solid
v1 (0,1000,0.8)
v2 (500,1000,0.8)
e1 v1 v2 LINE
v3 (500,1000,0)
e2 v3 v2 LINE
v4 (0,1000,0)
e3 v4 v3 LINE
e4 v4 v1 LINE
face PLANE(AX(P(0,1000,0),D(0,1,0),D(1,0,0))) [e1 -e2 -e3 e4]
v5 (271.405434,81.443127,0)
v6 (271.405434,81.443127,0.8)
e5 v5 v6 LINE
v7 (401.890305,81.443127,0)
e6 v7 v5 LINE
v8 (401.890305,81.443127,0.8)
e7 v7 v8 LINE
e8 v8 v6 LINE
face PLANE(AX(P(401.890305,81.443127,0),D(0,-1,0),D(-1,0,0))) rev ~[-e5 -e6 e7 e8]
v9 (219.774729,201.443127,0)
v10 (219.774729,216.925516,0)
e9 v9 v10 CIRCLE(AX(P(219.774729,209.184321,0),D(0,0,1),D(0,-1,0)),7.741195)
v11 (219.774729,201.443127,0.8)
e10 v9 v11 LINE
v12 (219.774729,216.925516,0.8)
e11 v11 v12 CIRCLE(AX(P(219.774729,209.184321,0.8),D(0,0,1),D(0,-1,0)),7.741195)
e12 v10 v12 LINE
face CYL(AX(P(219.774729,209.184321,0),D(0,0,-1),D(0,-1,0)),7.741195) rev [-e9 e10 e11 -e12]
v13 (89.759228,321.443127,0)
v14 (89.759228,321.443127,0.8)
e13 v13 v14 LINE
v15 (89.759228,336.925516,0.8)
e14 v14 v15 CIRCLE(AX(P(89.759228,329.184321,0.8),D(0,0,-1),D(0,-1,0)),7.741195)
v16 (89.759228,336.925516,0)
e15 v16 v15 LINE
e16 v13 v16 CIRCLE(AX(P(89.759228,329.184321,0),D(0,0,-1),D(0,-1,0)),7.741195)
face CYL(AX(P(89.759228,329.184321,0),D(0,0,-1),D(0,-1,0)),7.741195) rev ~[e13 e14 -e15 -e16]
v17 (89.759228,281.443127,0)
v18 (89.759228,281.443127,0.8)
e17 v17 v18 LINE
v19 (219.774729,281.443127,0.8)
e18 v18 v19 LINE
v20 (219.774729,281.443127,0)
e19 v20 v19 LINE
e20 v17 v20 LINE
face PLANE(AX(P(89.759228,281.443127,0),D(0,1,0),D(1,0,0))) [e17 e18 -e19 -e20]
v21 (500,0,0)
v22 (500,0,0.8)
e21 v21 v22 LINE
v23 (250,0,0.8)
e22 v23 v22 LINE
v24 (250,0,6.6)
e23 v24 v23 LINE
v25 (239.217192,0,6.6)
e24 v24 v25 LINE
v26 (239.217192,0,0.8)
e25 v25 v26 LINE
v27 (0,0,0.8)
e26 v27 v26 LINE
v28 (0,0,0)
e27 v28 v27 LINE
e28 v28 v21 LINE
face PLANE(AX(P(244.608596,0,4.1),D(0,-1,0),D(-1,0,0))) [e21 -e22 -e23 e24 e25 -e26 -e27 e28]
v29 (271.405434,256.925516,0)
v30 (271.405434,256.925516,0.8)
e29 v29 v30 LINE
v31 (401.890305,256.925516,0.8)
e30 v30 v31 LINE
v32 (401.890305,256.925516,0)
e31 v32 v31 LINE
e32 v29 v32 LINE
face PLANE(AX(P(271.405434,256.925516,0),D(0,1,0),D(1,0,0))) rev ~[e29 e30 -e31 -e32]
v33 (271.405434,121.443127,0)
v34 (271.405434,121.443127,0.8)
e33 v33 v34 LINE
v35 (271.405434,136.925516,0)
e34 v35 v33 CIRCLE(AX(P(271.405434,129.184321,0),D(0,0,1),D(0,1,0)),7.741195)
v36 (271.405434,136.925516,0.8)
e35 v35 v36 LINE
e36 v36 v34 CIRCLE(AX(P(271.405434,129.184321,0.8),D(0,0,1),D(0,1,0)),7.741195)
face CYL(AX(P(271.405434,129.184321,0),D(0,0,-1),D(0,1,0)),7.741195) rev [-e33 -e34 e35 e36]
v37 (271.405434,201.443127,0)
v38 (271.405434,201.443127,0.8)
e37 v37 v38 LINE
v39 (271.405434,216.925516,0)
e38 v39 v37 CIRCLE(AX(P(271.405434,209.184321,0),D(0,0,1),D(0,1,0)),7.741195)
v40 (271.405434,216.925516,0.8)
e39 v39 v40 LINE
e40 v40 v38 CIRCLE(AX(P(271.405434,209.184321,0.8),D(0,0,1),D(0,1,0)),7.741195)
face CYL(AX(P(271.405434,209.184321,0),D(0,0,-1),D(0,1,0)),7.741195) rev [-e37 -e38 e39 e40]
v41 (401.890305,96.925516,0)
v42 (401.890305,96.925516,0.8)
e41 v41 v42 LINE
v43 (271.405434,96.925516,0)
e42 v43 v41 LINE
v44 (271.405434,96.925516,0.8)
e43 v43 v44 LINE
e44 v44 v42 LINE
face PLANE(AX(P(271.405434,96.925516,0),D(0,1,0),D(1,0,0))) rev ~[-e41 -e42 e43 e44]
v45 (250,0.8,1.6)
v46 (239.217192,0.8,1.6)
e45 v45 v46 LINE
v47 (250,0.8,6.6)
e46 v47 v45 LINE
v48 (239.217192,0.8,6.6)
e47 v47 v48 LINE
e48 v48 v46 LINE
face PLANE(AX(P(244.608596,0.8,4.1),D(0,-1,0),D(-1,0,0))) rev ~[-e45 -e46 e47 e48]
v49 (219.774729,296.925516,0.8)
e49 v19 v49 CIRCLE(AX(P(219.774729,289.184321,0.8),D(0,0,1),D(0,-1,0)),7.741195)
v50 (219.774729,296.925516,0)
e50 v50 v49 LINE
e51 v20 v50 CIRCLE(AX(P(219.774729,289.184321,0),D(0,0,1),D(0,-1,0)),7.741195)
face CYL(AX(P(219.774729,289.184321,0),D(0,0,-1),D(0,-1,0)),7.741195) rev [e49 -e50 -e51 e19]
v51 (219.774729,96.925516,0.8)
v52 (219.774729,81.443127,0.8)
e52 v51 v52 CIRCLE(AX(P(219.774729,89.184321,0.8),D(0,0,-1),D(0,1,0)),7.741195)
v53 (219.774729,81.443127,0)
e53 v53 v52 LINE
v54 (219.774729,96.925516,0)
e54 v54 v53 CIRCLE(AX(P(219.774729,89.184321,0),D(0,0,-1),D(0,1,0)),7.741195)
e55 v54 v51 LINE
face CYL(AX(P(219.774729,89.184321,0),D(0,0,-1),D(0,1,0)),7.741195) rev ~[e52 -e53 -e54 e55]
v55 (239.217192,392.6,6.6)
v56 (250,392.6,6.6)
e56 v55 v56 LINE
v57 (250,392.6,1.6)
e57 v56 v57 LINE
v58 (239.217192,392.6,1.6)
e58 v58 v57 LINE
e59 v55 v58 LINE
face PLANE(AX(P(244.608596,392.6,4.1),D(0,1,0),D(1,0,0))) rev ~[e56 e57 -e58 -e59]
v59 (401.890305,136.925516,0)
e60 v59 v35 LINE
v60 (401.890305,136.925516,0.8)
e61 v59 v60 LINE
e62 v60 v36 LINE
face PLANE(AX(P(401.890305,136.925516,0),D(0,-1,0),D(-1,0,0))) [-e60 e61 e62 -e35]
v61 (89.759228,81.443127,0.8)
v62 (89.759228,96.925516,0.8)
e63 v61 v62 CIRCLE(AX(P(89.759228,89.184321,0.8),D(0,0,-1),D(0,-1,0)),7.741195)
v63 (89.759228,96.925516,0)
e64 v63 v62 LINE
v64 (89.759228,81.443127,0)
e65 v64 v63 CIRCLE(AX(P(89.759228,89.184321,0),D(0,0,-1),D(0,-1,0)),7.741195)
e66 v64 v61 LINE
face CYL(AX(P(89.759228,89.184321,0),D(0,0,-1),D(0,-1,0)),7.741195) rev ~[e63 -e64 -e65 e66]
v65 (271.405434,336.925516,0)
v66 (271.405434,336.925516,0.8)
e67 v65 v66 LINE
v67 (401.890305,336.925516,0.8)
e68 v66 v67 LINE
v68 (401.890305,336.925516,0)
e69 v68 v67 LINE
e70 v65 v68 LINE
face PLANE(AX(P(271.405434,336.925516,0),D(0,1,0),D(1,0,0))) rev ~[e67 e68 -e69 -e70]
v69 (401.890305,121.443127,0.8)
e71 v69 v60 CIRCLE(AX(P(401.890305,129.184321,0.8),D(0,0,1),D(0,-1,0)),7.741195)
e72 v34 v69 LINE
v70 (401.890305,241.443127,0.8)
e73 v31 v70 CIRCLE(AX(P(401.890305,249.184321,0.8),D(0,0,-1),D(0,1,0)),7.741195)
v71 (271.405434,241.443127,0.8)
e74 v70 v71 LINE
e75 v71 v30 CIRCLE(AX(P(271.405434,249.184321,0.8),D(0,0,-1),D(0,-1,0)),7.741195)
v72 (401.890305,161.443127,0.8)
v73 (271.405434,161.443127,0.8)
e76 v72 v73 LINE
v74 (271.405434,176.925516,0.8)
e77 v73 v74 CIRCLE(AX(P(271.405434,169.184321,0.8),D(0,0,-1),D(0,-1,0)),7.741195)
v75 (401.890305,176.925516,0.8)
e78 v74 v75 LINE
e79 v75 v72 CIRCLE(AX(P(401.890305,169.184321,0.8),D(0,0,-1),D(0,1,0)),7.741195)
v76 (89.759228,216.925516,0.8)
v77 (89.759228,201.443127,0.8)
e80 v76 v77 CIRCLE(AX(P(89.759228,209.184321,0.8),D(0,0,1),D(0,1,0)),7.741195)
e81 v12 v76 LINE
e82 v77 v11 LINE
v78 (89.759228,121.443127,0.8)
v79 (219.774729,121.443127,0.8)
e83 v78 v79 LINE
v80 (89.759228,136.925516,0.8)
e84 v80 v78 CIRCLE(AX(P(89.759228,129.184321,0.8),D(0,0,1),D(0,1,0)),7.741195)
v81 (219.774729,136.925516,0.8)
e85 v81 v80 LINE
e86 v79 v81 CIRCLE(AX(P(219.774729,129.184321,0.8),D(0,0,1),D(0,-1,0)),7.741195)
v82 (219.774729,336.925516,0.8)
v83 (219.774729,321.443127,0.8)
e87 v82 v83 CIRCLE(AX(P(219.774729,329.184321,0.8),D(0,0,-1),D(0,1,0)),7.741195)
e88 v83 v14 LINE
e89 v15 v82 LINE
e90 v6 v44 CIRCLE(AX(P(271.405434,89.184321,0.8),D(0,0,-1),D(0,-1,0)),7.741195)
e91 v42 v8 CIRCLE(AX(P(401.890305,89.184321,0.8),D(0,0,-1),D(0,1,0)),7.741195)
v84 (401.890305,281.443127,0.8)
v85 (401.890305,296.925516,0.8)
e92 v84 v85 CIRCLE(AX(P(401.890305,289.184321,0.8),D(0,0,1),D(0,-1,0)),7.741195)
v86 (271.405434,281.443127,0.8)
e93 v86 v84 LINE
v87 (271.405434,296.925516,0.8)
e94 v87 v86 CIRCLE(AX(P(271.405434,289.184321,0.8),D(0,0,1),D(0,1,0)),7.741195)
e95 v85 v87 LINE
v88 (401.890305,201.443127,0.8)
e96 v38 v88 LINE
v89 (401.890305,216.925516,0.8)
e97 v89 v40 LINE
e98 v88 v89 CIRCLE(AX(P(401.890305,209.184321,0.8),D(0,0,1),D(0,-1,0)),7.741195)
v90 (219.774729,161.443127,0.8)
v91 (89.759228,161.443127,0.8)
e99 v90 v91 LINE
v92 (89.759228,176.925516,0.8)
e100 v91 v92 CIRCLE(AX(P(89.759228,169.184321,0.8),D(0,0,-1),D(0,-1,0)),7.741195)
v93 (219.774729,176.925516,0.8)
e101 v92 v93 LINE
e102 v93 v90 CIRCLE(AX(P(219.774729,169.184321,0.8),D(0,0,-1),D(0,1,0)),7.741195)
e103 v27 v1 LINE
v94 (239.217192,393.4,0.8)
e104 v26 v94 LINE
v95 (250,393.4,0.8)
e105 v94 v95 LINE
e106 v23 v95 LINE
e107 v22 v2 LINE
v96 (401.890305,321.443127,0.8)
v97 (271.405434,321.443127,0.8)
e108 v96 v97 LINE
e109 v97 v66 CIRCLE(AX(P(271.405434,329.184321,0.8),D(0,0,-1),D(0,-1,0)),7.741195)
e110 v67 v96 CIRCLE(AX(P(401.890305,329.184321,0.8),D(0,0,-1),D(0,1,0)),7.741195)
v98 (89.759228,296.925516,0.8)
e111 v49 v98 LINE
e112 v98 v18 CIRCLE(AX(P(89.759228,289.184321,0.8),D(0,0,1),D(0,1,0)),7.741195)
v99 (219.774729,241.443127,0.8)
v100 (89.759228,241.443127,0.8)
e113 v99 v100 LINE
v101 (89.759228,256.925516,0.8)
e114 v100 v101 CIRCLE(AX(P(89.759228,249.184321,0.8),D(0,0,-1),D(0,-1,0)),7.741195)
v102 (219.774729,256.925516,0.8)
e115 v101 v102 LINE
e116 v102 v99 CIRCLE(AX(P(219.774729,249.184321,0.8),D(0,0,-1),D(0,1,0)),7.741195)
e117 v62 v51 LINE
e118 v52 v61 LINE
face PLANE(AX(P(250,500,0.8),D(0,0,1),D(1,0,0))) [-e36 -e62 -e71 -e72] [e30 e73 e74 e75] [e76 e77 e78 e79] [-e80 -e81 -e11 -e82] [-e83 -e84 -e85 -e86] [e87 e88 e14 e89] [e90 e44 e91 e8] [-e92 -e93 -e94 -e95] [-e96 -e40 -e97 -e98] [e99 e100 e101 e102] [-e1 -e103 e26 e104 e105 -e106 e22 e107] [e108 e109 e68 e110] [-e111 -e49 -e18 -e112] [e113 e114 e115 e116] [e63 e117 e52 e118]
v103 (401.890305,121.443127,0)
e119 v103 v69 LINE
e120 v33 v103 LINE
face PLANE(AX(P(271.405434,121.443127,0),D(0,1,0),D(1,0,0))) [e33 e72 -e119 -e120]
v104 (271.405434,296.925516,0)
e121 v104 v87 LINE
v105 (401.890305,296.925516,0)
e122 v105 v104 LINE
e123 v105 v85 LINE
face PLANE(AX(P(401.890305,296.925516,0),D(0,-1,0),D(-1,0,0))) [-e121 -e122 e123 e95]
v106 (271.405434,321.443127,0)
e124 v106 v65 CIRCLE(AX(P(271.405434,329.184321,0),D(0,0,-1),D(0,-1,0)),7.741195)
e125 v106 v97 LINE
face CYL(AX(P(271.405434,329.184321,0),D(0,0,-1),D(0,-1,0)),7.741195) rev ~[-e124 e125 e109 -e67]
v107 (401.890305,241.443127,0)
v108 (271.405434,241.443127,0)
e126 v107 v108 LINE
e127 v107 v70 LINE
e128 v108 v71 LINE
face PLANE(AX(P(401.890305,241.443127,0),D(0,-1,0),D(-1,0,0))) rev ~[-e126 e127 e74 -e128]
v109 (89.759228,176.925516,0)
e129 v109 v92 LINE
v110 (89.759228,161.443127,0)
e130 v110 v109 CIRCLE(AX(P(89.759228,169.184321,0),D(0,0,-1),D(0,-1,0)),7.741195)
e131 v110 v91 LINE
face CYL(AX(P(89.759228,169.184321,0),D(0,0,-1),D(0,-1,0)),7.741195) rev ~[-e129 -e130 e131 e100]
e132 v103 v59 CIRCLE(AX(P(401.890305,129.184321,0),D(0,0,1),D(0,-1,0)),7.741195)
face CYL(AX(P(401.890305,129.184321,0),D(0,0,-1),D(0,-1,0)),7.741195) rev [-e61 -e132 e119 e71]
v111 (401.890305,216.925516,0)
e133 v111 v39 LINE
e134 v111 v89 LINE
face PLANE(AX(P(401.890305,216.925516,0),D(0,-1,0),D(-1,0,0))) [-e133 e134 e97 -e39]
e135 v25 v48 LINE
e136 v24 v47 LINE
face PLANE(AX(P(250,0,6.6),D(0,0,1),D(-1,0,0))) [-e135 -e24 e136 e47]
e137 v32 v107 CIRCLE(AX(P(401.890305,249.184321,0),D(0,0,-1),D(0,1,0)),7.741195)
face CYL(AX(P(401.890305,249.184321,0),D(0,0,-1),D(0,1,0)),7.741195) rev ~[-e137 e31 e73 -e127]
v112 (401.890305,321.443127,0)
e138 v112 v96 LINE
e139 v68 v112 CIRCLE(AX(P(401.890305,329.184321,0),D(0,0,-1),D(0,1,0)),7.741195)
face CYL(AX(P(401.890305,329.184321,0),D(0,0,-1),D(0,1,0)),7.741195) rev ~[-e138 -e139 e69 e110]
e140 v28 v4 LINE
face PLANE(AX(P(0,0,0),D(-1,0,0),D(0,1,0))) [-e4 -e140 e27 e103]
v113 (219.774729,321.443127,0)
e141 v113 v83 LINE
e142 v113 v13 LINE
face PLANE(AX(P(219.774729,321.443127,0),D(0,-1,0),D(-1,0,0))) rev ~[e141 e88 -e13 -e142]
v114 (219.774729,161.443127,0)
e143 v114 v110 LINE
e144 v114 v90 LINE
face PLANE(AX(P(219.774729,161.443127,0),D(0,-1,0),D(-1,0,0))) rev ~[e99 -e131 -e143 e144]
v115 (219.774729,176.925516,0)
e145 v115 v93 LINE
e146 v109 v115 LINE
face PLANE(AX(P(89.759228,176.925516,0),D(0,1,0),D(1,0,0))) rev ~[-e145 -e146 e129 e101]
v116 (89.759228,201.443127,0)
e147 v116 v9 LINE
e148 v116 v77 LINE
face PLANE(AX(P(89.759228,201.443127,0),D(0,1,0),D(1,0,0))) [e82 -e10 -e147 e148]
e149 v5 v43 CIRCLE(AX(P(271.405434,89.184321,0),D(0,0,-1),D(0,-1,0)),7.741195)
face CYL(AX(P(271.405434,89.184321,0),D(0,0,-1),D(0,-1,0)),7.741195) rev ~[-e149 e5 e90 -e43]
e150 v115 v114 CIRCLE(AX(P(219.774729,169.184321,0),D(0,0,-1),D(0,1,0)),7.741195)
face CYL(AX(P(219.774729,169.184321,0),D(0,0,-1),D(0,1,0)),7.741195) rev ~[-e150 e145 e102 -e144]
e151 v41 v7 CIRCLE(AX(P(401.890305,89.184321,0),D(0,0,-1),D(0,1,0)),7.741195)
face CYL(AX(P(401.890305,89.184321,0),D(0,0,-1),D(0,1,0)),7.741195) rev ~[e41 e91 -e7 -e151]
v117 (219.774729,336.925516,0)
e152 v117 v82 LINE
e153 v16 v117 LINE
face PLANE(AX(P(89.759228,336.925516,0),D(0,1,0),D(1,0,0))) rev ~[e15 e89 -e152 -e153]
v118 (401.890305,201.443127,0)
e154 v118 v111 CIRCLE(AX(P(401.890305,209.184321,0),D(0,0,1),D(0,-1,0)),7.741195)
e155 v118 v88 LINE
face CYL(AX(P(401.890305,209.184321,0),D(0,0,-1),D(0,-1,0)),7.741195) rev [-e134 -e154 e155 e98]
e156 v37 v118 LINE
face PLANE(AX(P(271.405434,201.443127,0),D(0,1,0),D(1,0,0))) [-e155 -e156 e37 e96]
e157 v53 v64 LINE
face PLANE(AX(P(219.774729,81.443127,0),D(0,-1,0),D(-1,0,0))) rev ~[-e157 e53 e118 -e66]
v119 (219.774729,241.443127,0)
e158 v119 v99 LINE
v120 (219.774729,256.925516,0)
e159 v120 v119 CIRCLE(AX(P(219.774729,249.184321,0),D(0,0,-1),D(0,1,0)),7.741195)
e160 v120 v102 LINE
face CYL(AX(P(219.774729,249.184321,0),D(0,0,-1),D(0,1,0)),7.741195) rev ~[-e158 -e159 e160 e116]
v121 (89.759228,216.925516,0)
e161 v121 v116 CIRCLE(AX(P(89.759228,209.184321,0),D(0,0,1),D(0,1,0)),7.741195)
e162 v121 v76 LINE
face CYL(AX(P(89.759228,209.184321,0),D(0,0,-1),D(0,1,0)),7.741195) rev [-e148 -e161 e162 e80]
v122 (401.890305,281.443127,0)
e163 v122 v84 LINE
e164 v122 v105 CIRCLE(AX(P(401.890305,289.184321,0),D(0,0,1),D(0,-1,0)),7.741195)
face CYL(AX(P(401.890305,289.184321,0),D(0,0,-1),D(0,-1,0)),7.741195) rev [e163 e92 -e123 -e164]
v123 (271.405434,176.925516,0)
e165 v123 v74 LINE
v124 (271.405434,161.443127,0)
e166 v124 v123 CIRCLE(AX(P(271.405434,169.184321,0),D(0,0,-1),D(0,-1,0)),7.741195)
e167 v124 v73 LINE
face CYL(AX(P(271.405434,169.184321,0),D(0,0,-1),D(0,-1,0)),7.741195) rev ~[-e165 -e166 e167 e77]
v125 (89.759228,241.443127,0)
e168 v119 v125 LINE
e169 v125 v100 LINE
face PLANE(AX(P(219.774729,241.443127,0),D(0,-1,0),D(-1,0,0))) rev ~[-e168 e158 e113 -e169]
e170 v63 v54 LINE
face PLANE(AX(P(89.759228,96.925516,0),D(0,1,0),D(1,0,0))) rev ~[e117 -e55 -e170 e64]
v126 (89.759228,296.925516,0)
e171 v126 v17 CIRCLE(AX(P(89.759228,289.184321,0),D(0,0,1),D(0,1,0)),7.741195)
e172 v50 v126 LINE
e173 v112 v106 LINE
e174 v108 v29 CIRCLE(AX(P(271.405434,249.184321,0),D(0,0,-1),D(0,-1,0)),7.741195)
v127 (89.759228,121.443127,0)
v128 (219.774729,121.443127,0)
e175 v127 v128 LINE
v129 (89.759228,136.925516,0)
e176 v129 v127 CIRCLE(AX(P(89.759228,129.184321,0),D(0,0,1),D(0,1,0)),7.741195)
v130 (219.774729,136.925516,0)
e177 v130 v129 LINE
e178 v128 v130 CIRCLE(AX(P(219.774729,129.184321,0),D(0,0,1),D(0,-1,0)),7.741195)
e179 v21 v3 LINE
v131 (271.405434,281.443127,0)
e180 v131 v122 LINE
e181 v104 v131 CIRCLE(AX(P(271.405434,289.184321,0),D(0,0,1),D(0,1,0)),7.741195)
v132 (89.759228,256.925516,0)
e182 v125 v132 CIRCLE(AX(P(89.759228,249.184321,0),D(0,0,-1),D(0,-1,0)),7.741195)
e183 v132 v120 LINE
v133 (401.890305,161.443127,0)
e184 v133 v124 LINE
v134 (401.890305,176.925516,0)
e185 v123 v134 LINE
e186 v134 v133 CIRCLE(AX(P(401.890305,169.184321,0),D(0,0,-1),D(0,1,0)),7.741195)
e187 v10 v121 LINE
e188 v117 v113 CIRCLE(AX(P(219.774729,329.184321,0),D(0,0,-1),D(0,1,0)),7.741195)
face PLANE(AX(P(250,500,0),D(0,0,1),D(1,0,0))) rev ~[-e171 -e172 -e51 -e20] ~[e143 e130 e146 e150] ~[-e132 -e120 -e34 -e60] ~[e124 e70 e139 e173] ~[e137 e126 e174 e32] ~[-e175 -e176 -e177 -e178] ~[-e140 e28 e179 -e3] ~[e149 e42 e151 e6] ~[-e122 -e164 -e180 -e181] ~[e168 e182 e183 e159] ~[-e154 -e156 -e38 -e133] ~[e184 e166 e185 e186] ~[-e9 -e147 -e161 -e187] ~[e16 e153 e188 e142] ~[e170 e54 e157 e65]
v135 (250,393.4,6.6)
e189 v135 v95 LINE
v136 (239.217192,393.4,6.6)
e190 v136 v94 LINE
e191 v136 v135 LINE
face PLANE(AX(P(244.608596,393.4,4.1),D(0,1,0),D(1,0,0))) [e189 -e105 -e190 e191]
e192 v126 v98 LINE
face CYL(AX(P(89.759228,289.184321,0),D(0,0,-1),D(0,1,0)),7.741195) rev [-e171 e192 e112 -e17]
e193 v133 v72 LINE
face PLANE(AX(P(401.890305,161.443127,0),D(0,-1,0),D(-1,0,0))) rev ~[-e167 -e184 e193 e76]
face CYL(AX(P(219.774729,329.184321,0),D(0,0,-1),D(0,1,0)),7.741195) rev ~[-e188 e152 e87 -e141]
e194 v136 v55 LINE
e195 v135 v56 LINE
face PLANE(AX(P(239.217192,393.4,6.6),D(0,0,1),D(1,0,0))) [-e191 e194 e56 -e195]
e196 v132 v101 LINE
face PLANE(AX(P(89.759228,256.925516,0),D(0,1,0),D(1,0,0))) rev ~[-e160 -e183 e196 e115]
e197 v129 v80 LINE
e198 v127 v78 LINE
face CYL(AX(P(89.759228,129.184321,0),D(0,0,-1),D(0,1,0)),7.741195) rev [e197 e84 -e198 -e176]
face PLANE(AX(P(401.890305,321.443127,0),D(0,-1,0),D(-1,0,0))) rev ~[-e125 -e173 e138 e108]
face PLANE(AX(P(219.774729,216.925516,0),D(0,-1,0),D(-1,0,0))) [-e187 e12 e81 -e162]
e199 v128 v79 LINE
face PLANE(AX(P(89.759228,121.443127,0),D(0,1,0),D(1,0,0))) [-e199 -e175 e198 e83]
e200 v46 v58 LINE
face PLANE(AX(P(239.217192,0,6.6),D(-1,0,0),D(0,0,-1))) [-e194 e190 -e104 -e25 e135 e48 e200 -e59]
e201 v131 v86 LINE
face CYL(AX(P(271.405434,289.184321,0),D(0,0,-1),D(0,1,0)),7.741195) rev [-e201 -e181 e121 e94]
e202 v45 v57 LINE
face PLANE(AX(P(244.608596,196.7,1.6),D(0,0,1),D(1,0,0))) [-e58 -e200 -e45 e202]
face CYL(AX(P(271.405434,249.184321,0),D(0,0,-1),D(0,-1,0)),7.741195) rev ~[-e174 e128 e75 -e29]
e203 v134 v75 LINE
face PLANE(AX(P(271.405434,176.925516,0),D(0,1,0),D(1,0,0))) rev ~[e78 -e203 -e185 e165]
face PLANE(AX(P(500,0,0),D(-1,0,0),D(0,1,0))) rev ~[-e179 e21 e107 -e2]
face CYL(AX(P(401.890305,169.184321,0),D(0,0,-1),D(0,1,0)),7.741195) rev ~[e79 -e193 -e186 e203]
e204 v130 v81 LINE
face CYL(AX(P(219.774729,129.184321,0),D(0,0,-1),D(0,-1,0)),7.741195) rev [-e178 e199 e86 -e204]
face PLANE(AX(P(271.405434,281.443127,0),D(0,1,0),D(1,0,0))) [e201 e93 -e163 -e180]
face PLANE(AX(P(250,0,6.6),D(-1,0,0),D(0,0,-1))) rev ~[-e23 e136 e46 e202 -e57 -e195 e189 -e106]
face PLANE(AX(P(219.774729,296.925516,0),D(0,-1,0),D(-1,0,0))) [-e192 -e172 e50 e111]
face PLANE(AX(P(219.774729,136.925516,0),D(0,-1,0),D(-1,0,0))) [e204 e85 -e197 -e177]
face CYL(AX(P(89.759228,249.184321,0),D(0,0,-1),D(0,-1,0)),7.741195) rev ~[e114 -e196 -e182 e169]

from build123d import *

# Parameters (mm, degrees)
SKETCH1_W           = 500
SKETCH1_H           = 1000
BOSS_EXTRUDE1_DEPTH = 0.8
SKETCH4_W           = 10.782807929
SKETCH4_H           = 393.4
BOSS_EXTRUDE3_DEPTH = 0.8
SKETCH6_W           = 10.782807929
SKETCH6_H           = 5
BOSS_EXTRUDE4_DEPTH = 0.8
SKETCH7_W           = 10.782807929
SKETCH7_H           = 5
BOSS_EXTRUDE5_DEPTH = 0.8


with BuildPart() as part:
    # Sketch1 → Boss-Extrude1 (new body)
    with BuildSketch(Plane.XY):
        with Locations((250, 500)):
            Rectangle(SKETCH1_W, SKETCH1_H)
        with BuildLine():
            Line((89.759227751, 336.925516305), (219.774729178, 336.925516305))
            ThreePointArc((219.774729178, 336.925516305), (227.515924038, 329.184321446), (219.774729178, 321.443126586))
            Line((219.774729178, 321.443126586), (89.759227751, 321.443126586))
            ThreePointArc((89.759227751, 321.443126586), (82.018032891, 329.184321446), (89.759227751, 336.925516305))
        make_face(mode=Mode.SUBTRACT)
        with BuildLine():
            Line((271.405433716, 336.925516305), (401.890305185, 336.925516305))
            ThreePointArc((401.890305185, 336.925516305), (409.631500044, 329.184321446), (401.890305185, 321.443126586))
            Line((401.890305185, 321.443126586), (271.405433716, 321.443126586))
            ThreePointArc((271.405433716, 321.443126586), (263.664238856, 329.184321446), (271.405433716, 336.925516305))
        make_face(mode=Mode.SUBTRACT)
        with BuildLine():
            Line((271.405433716, 281.443126586), (401.890305185, 281.443126586))
            ThreePointArc((401.890305185, 281.443126586), (409.631500044, 289.184321446), (401.890305185, 296.925516305))
            Line((401.890305185, 296.925516305), (271.405433716, 296.925516305))
            ThreePointArc((271.405433716, 296.925516305), (263.664238856, 289.184321446), (271.405433716, 281.443126586))
        make_face(mode=Mode.SUBTRACT)
        with BuildLine():
            Line((89.759227751, 281.443126586), (219.774729178, 281.443126586))
            ThreePointArc((219.774729178, 281.443126586), (227.515924038, 289.184321446), (219.774729178, 296.925516305))
            Line((219.774729178, 296.925516305), (89.759227751, 296.925516305))
            ThreePointArc((89.759227751, 296.925516305), (82.018032891, 289.184321446), (89.759227751, 281.443126586))
        make_face(mode=Mode.SUBTRACT)
        with BuildLine():
            Line((271.405433716, 256.925516305), (401.890305185, 256.925516305))
            ThreePointArc((401.890305185, 256.925516305), (409.631500044, 249.184321446), (401.890305185, 241.443126586))
            Line((401.890305185, 241.443126586), (271.405433716, 241.443126586))
            ThreePointArc((271.405433716, 241.443126586), (263.664238856, 249.184321446), (271.405433716, 256.925516305))
        make_face(mode=Mode.SUBTRACT)
        with BuildLine():
            Line((271.405433716, 201.443126586), (401.890305185, 201.443126586))
            ThreePointArc((401.890305185, 201.443126586), (409.631500044, 209.184321446), (401.890305185, 216.925516305))
            Line((401.890305185, 216.925516305), (271.405433716, 216.925516305))
            ThreePointArc((271.405433716, 216.925516305), (263.664238856, 209.184321446), (271.405433716, 201.443126586))
        make_face(mode=Mode.SUBTRACT)
        with BuildLine():
            Line((89.759227751, 256.925516305), (219.774729178, 256.925516305))
            ThreePointArc((219.774729178, 256.925516305), (227.515924038, 249.184321446), (219.774729178, 241.443126586))
            Line((219.774729178, 241.443126586), (89.759227751, 241.443126586))
            ThreePointArc((89.759227751, 241.443126586), (82.018032891, 249.184321446), (89.759227751, 256.925516305))
        make_face(mode=Mode.SUBTRACT)
        with BuildLine():
            Line((89.759227751, 201.443126586), (219.774729178, 201.443126586))
            ThreePointArc((219.774729178, 201.443126586), (227.515924038, 209.184321446), (219.774729178, 216.925516305))
            Line((219.774729178, 216.925516305), (89.759227751, 216.925516305))
            ThreePointArc((89.759227751, 216.925516305), (82.018032891, 209.184321446), (89.759227751, 201.443126586))
        make_face(mode=Mode.SUBTRACT)
        with BuildLine():
            Line((271.405433716, 176.925516305), (401.890305185, 176.925516305))
            ThreePointArc((401.890305185, 176.925516305), (409.631500044, 169.184321446), (401.890305185, 161.443126586))
            Line((401.890305185, 161.443126586), (271.405433716, 161.443126586))
            ThreePointArc((271.405433716, 161.443126586), (263.664238856, 169.184321446), (271.405433716, 176.925516305))
        make_face(mode=Mode.SUBTRACT)
        with BuildLine():
            Line((89.759227751, 176.925516305), (219.774729178, 176.925516305))
            ThreePointArc((219.774729178, 176.925516305), (227.515924038, 169.184321446), (219.774729178, 161.443126586))
            Line((219.774729178, 161.443126586), (89.759227751, 161.443126586))
            ThreePointArc((89.759227751, 161.443126586), (82.018032891, 169.184321446), (89.759227751, 176.925516305))
        make_face(mode=Mode.SUBTRACT)
        with BuildLine():
            Line((89.759227751, 121.443126586), (219.774729178, 121.443126586))
            ThreePointArc((219.774729178, 121.443126586), (227.515924038, 129.184321446), (219.774729178, 136.925516305))
            Line((219.774729178, 136.925516305), (89.759227751, 136.925516305))
            ThreePointArc((89.759227751, 136.925516305), (82.018032891, 129.184321446), (89.759227751, 121.443126586))
        make_face(mode=Mode.SUBTRACT)
        with BuildLine():
            Line((271.405433716, 121.443126586), (401.890305185, 121.443126586))
            ThreePointArc((401.890305185, 121.443126586), (409.631500044, 129.184321446), (401.890305185, 136.925516305))
            Line((401.890305185, 136.925516305), (271.405433716, 136.925516305))
            ThreePointArc((271.405433716, 136.925516305), (263.664238856, 129.184321446), (271.405433716, 121.443126586))
        make_face(mode=Mode.SUBTRACT)
        with BuildLine():
            Line((271.405433716, 96.925516305), (401.890305185, 96.925516305))
            ThreePointArc((401.890305185, 96.925516305), (409.631500044, 89.184321446), (401.890305185, 81.443126586))
            Line((401.890305185, 81.443126586), (271.405433716, 81.443126586))
            ThreePointArc((271.405433716, 81.443126586), (263.664238856, 89.184321446), (271.405433716, 96.925516305))
        make_face(mode=Mode.SUBTRACT)
        with BuildLine():
            Line((89.759227751, 96.925516305), (219.774729178, 96.925516305))
            ThreePointArc((219.774729178, 96.925516305), (227.515924038, 89.184321446), (219.774729178, 81.443126586))
            Line((219.774729178, 81.443126586), (89.759227751, 81.443126586))
            ThreePointArc((89.759227751, 81.443126586), (82.018032891, 89.184321446), (89.759227751, 96.925516305))
        make_face(mode=Mode.SUBTRACT)
    extrude(amount=BOSS_EXTRUDE1_DEPTH)

    # Sketch4 → Boss-Extrude3 (add)
    with BuildSketch(Plane.XY.offset(0.8)):
        with Locations((244.608596036, 196.7)):
            Rectangle(SKETCH4_W, SKETCH4_H)
    extrude(amount=BOSS_EXTRUDE3_DEPTH)

    # Sketch6 → Boss-Extrude4 (add)
    with BuildSketch(Plane(origin=(0, 393.4, 0), x_dir=(1, 0, 0), z_dir=(0, 1, 0))):
        with Locations((244.608596036, -4.1)):
            Rectangle(SKETCH6_W, SKETCH6_H)
    extrude(amount=-BOSS_EXTRUDE4_DEPTH)

    # Sketch7 → Boss-Extrude5 (add)
    with BuildSketch(Plane(origin=(0, 0, 0), x_dir=(-1, 0, 0), z_dir=(0, -1, 0))):
        with Locations((-244.608596036, -4.1)):
            Rectangle(SKETCH7_W, SKETCH7_H)
    extrude(amount=-BOSS_EXTRUDE5_DEPTH)


solid = part.part
